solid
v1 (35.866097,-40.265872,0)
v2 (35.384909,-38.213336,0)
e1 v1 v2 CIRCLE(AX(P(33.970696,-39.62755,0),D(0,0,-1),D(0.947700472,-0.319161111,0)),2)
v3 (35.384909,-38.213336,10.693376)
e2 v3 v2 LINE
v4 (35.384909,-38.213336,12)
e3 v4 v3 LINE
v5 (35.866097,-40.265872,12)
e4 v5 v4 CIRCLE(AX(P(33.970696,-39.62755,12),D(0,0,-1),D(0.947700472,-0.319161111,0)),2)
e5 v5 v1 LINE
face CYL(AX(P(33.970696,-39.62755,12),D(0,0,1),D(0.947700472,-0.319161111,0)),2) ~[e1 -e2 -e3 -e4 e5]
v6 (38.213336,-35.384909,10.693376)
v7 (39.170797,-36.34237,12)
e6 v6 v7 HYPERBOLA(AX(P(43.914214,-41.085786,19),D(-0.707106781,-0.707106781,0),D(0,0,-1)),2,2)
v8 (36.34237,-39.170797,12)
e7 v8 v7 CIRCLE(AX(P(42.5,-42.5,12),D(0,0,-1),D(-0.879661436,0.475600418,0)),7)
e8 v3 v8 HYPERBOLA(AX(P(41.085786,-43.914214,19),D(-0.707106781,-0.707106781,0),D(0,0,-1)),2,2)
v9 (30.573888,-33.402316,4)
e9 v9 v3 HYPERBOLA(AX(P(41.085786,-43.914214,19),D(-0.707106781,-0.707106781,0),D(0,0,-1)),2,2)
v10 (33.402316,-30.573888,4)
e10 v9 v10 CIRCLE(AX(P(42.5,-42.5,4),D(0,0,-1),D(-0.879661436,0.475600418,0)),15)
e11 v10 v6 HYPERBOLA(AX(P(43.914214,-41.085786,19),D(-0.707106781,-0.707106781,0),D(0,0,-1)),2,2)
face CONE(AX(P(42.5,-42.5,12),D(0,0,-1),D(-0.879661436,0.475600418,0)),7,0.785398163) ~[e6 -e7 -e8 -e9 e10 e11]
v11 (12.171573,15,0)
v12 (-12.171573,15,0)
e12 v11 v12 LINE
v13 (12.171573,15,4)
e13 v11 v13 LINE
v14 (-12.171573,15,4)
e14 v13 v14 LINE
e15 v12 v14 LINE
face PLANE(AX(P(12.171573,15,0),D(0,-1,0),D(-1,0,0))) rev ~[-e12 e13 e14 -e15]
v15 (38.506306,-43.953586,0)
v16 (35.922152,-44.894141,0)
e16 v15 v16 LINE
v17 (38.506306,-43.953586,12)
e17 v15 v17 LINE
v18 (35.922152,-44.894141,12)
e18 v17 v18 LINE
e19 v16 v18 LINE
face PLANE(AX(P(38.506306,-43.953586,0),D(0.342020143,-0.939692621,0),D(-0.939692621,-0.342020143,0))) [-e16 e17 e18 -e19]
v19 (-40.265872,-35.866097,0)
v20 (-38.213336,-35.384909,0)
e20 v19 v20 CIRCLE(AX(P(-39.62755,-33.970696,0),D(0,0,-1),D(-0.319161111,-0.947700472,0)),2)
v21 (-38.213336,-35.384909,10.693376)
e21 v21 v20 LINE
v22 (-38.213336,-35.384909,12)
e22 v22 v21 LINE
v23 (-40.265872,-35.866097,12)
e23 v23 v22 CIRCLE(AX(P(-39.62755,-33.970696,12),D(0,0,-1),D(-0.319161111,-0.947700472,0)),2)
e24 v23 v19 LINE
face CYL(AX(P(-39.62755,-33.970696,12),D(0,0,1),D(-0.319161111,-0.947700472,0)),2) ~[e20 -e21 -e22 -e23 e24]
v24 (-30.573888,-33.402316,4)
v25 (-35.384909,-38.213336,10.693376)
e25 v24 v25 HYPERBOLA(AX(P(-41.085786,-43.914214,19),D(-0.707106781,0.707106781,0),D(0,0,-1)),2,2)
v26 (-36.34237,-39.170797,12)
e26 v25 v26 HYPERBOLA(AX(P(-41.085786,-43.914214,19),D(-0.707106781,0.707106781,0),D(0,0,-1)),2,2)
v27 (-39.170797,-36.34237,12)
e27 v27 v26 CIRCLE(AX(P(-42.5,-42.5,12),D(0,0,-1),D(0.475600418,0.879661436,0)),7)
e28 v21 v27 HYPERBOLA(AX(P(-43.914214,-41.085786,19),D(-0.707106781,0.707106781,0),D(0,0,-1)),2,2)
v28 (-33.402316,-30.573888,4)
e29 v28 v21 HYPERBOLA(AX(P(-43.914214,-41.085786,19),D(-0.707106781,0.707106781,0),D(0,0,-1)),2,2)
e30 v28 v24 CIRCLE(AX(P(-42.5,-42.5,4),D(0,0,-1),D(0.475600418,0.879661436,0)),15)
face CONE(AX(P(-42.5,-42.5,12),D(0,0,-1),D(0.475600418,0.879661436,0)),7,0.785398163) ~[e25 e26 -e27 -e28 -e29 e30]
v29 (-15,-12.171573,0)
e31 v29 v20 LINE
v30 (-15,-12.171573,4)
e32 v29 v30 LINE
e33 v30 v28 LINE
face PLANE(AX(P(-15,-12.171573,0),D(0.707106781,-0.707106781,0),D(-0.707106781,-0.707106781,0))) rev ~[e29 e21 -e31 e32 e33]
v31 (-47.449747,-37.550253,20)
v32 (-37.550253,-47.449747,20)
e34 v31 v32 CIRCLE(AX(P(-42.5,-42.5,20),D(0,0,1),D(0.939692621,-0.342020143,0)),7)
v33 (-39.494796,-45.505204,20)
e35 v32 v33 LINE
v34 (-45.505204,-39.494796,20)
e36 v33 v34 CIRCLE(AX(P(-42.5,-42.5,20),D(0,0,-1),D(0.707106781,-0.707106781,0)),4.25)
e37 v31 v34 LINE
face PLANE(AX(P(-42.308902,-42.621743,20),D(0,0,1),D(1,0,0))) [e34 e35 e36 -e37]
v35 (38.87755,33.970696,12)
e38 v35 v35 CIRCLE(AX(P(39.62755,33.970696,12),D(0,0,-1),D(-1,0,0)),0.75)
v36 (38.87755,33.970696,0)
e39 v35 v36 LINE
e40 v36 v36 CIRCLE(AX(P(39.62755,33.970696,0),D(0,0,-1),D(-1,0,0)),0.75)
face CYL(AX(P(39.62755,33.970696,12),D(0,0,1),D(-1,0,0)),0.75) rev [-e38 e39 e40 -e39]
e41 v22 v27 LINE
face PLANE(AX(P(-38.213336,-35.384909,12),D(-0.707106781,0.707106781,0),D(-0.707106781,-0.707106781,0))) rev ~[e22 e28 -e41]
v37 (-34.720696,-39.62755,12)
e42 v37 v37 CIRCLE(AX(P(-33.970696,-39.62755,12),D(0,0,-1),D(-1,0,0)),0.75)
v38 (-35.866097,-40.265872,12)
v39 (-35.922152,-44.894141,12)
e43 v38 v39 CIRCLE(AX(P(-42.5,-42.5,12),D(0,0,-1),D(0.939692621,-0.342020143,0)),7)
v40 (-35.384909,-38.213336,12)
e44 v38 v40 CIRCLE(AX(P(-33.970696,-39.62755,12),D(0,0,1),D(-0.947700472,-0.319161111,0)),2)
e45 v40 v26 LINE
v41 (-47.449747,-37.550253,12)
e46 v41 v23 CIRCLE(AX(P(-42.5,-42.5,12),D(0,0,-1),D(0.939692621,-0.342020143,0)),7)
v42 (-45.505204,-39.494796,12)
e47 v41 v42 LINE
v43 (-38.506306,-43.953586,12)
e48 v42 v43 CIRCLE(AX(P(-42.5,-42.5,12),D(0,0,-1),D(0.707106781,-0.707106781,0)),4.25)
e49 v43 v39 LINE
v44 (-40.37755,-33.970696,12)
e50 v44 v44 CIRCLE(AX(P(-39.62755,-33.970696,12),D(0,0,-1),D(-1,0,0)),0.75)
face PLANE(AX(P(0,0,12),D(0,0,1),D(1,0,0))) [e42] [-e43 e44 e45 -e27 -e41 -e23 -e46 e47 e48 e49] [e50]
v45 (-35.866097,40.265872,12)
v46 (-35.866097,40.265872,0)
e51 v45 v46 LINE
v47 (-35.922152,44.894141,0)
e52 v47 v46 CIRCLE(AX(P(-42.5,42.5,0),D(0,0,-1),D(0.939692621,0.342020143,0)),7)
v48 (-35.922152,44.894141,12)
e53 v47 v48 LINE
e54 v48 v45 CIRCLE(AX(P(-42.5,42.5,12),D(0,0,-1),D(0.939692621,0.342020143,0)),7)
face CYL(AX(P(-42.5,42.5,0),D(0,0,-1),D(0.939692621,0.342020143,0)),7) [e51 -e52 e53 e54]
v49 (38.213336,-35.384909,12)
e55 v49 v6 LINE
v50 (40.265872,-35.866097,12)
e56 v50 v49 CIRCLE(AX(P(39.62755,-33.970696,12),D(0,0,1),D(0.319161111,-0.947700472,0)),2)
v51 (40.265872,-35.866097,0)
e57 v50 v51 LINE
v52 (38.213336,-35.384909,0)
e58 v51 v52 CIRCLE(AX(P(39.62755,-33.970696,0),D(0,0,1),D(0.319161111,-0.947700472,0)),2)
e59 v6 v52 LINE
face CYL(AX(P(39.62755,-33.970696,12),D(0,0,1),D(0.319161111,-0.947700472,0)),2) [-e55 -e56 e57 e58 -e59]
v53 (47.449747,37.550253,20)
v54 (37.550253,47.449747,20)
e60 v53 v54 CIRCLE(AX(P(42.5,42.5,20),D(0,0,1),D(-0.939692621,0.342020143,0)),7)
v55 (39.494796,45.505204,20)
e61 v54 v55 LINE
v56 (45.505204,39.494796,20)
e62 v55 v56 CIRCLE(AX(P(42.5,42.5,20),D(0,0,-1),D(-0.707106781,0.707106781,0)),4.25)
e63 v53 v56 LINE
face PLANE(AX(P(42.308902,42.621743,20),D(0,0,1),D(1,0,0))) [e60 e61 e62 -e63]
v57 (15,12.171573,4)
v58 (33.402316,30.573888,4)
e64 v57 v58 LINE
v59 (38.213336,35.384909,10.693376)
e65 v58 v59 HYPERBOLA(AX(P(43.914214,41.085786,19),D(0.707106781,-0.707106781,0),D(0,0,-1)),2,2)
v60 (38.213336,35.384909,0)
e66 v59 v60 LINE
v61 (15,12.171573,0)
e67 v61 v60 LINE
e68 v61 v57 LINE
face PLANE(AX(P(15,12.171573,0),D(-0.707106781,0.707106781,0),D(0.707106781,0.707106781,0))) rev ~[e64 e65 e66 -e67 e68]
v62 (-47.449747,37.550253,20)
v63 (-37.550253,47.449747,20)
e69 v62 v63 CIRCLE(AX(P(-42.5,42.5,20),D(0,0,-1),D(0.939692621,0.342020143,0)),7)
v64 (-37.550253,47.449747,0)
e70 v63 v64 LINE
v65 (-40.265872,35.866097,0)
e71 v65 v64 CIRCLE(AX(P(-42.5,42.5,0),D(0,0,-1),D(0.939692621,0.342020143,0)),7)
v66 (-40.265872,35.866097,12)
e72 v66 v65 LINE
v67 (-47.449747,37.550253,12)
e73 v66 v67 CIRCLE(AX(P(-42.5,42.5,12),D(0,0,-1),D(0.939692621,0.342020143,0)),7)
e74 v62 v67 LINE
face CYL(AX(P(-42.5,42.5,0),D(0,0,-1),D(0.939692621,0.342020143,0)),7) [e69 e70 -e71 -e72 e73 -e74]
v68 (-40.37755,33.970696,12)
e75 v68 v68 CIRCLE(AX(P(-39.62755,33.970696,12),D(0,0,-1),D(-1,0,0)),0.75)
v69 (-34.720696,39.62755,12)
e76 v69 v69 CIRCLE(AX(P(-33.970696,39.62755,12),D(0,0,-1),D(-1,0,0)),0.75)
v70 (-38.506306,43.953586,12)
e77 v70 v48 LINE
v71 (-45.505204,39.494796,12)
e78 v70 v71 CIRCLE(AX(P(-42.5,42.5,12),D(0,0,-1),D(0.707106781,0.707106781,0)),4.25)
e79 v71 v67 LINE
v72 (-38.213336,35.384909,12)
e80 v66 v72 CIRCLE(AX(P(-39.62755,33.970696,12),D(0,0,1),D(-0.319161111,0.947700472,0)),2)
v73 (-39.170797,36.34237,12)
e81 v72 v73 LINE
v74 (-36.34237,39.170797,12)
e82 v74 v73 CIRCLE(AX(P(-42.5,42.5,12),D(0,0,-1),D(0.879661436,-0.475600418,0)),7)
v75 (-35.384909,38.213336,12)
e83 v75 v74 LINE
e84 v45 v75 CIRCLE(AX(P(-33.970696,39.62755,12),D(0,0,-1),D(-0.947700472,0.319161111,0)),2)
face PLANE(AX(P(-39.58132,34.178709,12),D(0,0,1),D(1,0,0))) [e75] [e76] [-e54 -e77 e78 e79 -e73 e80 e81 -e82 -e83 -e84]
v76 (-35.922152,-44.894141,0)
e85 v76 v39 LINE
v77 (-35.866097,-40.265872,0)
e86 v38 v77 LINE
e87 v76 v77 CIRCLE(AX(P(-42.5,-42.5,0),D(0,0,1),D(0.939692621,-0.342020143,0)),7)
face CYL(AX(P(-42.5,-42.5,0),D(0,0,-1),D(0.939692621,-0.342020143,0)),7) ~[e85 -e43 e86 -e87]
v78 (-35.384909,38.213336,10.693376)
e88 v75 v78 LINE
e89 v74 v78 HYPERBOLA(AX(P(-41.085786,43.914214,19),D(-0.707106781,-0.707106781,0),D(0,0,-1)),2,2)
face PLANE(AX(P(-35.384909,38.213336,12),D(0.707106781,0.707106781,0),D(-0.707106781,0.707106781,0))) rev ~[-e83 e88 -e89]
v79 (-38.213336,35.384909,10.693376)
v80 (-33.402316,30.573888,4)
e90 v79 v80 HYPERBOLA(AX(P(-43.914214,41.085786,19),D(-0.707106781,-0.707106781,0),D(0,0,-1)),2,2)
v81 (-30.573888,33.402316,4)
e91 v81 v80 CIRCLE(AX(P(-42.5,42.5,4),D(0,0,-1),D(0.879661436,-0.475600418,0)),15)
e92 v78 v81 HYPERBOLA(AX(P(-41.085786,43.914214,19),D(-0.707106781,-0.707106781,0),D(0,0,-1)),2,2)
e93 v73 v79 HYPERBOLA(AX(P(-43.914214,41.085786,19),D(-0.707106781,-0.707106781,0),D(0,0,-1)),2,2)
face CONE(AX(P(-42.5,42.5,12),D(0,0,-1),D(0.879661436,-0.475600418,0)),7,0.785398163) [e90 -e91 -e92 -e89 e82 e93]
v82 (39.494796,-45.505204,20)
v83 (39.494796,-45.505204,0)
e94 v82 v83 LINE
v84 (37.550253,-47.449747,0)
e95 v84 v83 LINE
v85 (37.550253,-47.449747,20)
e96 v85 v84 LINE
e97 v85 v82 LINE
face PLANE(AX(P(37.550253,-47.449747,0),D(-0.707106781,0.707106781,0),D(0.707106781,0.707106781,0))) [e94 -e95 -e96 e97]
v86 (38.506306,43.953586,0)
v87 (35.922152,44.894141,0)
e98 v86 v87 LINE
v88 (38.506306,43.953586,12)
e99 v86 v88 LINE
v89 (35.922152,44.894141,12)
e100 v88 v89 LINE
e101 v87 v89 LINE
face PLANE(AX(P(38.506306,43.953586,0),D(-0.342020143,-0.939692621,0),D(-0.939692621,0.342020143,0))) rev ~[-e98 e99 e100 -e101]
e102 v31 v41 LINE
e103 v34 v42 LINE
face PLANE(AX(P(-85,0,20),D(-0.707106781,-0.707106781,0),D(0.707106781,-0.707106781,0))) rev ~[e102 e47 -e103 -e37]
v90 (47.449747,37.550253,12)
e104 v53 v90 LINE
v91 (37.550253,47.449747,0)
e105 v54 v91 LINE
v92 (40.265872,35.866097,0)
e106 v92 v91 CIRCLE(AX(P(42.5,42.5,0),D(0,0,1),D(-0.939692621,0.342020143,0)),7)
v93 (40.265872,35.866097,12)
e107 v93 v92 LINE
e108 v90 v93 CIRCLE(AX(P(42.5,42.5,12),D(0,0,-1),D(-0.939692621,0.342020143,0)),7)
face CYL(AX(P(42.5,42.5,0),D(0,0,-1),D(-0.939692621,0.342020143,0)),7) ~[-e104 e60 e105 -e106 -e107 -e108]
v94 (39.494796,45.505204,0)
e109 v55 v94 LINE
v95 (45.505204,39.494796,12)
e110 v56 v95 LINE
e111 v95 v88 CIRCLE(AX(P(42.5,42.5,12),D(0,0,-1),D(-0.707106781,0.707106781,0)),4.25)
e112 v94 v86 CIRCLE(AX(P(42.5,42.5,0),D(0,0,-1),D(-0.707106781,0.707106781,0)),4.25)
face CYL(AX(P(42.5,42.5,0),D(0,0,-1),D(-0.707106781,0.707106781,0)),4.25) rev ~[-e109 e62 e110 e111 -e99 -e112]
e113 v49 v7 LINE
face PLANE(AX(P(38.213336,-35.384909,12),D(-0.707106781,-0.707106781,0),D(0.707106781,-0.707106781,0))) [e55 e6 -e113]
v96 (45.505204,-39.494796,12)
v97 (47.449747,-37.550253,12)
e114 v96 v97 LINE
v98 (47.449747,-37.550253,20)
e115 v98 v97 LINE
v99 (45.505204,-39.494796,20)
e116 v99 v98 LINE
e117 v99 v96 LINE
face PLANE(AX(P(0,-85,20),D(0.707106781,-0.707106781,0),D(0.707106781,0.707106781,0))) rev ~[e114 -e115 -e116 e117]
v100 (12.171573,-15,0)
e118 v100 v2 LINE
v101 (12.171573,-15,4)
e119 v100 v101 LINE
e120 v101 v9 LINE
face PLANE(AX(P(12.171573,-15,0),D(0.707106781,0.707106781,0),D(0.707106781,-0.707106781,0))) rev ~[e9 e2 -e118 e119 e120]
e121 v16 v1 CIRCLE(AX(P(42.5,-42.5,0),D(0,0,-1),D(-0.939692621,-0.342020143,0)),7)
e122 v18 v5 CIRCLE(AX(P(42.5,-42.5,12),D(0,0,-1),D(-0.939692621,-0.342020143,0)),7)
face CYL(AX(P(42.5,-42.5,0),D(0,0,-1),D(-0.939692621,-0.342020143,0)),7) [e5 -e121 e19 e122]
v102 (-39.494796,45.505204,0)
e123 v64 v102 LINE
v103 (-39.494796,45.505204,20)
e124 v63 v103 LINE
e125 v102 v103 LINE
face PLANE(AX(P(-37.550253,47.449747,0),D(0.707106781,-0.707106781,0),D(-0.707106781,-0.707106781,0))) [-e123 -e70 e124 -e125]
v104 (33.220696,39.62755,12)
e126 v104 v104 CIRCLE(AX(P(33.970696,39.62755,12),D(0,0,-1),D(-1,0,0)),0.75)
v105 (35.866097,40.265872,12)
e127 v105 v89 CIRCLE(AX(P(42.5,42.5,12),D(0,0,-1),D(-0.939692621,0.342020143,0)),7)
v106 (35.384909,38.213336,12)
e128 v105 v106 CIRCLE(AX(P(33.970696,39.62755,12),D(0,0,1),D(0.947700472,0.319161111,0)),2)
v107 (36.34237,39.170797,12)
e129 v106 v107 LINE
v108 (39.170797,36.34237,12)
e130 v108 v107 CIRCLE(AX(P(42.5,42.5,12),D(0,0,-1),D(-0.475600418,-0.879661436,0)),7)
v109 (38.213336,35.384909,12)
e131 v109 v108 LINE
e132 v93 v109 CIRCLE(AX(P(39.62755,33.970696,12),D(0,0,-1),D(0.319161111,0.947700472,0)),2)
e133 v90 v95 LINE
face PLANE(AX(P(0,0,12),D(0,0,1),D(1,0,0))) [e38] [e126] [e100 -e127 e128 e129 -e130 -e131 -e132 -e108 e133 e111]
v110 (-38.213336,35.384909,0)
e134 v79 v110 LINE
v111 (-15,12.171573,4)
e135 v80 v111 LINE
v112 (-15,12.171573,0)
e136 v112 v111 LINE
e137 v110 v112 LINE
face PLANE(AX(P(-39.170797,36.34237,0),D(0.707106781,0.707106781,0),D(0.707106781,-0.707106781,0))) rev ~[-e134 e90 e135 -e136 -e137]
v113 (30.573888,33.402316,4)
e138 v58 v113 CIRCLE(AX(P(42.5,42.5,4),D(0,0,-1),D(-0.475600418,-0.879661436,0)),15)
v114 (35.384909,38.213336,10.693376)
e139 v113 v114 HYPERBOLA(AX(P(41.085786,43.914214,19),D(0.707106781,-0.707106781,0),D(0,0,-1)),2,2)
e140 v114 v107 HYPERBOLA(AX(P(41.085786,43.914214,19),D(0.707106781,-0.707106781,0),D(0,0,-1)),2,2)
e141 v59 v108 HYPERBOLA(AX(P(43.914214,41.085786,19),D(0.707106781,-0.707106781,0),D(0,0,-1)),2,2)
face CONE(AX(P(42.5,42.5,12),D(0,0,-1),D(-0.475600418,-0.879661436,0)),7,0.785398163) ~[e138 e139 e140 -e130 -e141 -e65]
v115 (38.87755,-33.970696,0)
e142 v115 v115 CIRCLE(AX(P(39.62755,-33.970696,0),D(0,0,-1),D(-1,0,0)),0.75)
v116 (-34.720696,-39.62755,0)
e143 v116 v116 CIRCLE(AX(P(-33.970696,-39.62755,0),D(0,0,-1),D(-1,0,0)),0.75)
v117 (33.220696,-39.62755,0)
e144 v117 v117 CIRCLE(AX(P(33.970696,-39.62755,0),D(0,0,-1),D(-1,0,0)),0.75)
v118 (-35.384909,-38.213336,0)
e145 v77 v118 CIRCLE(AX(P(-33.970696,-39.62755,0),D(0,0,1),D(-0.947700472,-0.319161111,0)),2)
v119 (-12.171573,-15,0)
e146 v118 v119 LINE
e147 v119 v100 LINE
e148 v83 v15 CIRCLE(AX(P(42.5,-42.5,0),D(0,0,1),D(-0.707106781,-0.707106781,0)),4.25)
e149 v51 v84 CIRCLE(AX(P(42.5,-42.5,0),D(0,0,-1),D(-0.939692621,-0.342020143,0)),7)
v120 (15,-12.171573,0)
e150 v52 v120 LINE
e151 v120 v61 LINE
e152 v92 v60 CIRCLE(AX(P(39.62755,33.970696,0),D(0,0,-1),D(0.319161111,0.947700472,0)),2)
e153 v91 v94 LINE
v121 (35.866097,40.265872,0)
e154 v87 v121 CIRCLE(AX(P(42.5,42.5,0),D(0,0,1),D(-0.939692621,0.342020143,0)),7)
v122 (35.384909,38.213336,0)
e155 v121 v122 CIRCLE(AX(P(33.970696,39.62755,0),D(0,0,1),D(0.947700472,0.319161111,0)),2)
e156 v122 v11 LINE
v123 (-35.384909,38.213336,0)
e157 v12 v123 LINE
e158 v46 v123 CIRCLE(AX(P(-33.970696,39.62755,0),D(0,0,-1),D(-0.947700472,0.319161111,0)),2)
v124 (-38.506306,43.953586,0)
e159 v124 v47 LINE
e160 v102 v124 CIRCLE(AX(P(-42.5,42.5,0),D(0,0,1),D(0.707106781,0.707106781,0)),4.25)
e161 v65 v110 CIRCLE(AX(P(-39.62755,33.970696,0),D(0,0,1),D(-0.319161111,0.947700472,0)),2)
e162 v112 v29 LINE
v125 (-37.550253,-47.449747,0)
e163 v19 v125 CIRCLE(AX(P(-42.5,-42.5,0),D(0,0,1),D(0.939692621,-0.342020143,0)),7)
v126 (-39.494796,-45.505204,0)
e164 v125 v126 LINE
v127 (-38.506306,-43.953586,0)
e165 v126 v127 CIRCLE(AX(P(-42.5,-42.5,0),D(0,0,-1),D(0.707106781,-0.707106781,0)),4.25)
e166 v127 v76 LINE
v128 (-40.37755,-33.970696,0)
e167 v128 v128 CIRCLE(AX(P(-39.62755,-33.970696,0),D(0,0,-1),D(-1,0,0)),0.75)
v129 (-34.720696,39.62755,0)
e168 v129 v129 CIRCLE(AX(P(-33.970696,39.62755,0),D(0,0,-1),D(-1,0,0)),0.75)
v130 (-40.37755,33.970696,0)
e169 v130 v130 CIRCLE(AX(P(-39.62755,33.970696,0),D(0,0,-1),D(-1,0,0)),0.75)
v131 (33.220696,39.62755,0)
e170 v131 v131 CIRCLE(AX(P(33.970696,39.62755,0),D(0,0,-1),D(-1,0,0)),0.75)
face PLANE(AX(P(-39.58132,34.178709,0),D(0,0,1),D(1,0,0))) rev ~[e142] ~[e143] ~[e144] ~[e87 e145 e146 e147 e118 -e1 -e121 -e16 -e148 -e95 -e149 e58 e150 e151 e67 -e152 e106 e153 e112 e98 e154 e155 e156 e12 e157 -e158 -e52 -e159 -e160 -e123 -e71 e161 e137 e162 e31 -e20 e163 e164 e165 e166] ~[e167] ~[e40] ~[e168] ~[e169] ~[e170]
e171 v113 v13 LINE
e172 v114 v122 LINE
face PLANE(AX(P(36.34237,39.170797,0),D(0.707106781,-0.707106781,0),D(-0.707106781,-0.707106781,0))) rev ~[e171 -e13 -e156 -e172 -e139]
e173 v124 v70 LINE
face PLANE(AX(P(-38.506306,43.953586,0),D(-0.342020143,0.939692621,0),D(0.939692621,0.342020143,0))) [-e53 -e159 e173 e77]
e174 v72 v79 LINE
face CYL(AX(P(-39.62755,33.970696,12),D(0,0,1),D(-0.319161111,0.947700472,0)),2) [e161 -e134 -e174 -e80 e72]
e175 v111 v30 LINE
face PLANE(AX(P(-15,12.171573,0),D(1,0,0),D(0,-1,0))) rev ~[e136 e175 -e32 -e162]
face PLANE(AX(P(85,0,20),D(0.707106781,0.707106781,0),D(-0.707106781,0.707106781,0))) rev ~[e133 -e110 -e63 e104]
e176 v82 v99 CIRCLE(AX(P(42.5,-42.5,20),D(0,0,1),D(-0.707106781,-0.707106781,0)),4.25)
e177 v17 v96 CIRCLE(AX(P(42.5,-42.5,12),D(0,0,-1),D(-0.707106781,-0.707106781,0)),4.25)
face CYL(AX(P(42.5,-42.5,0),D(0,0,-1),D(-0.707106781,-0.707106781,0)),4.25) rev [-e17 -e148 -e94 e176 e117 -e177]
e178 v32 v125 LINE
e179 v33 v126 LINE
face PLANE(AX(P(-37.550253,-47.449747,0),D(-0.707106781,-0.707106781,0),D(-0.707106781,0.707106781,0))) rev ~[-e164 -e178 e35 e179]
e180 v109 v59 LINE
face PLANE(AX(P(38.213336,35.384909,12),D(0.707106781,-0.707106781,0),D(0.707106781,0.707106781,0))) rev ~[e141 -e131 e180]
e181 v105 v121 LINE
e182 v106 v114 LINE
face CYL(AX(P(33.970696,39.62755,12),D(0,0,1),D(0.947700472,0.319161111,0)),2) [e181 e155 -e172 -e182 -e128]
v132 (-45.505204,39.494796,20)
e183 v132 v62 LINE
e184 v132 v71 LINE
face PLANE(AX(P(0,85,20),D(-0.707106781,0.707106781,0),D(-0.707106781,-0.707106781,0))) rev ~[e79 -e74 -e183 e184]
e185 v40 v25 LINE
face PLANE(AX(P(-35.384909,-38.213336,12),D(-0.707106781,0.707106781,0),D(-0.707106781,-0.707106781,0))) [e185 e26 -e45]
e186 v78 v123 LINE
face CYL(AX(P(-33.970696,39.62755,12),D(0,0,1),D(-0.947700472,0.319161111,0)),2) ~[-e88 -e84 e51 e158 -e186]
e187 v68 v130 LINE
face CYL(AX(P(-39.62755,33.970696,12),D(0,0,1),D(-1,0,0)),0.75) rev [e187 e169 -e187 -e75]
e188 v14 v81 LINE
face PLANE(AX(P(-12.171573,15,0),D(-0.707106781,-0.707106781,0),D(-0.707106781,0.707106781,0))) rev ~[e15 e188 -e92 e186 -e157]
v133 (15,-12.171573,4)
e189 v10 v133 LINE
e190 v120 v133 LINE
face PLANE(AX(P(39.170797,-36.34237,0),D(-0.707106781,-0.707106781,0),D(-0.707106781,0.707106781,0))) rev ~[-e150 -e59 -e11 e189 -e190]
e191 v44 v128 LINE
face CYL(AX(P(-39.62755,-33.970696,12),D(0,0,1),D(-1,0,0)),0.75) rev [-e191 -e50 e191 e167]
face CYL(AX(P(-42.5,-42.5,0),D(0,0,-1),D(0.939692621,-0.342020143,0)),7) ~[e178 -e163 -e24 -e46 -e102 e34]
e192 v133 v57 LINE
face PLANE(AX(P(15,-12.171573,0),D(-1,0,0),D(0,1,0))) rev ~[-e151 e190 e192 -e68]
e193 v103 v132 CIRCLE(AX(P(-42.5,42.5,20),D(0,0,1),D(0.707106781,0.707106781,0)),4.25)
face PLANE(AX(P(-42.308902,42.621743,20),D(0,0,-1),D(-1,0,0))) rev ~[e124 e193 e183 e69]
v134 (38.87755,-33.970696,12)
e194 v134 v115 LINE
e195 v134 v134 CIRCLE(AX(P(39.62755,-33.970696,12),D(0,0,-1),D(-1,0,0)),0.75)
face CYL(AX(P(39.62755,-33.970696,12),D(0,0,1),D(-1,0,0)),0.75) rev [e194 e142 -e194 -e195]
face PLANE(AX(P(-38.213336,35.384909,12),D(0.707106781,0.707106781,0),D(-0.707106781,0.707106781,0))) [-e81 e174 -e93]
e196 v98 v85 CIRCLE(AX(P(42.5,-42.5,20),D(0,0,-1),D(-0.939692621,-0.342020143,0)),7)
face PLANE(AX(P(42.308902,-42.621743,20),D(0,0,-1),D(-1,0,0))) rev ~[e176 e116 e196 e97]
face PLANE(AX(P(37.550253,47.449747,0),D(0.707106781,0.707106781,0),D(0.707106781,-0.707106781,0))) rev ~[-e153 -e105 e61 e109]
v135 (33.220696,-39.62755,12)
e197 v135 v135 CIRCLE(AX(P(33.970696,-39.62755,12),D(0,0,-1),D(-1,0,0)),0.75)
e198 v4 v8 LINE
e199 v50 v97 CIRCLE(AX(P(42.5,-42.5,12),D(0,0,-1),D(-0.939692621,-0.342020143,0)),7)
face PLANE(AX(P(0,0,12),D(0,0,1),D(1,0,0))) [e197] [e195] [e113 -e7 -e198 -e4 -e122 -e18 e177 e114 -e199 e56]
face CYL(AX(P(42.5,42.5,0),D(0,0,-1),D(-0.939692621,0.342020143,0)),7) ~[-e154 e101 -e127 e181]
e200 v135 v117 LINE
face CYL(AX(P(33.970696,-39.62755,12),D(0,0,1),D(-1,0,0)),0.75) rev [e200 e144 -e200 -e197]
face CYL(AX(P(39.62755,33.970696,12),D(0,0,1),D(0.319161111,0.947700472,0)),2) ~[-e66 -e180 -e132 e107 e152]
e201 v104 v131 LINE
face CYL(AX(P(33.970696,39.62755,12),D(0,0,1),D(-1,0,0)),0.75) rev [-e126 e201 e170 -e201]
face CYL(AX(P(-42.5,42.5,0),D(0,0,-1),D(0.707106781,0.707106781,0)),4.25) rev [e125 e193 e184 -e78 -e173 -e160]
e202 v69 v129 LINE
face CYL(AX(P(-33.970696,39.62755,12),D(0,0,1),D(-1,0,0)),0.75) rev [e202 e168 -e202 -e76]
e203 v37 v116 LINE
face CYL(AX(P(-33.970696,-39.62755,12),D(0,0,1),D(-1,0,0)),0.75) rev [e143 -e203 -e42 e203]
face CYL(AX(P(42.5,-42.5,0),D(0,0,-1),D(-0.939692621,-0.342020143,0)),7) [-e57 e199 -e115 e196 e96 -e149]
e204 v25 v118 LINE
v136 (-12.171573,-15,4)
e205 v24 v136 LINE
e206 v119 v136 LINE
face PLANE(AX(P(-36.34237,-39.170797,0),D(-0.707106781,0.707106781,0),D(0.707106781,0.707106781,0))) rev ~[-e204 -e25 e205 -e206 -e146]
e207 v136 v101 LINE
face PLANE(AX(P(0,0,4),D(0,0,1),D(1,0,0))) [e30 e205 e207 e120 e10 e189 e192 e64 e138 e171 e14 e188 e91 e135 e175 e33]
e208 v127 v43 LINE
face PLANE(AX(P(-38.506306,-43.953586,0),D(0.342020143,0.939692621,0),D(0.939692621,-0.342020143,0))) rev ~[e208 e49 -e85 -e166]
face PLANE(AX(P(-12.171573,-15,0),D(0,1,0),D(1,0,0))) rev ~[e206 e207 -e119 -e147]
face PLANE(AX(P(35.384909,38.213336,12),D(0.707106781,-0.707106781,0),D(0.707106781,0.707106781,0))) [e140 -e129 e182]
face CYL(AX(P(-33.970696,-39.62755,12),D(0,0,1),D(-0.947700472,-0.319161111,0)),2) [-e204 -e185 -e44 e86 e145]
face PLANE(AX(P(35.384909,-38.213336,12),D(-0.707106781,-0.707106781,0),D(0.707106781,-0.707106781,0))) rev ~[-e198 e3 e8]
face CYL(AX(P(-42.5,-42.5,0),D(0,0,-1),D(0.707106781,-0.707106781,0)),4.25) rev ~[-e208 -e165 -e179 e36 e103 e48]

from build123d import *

# Parameters (mm, degrees)
RESSALTO_EXTRUS_O1_DEPTH = 4
RESSALTO_EXTRUS_O2_DEPTH = 20
CHANFRO1_SIZE            = 8
CORTE_EXTRUS_O1_DEPTH    = 8
RESSALTO_EXTRUS_O3_START = -12
ESBO_O3_R                = 0.7499999999999987
ESBO_O3_R_2              = 0.7499999999999968
ESBO_O3_R_3              = 0.7500000000000008
ESBO_O3_R_4              = 0.7500000000000033
ESBO_O3_R_5              = 0.7499999999999941
RESSALTO_EXTRUS_O3_DEPTH = 12


with BuildPart() as part:
    # Esboço1 → Ressalto-extrusão1 (new body)
    with BuildSketch(Plane.XY):
        with BuildLine():
            ThreePointArc((39.17079707212046, 36.342369947374344), (37.5502525316941, 37.55025253169418), (36.342369947374266, 39.17079707212054))
            Line((36.342369947374266, 39.17079707212054), (12.171572875253798, 15))
            Line((12.171572875253798, 15), (-12.171572875253808, 15))
            Line((-12.171572875253808, 15), (-36.342369947374394, 39.17079707212054))
            ThreePointArc((-36.342369947374394, 39.17079707212054), (-37.55025253169423, 37.550252531694184), (-39.170797072120585, 36.34236994737435))
            Line((-39.1707970721206, 36.34236994737438), (-15.000000000000007, 12.171572875253808))
            Line((-15.000000000000007, 12.171572875253808), (-15.000000000000034, -12.171572875253805))
            Line((-15.000000000000034, -12.171572875253805), (-39.1707970721206, -36.34236994737438))
            ThreePointArc((-39.170797072120585, -36.34236994737435), (-37.55025253169423, -37.550252531694184), (-36.342369947374394, -39.17079707212054))
            Line((-36.342369947374394, -39.17079707212054), (-12.171572875253837, -14.999999999999996))
            Line((-12.171572875253837, -14.999999999999996), (12.171572875253744, -14.999999999999996))
            Line((12.171572875253743, -14.999999999999996), (36.342369947374266, -39.17079707212054))
            ThreePointArc((36.342369947374266, -39.17079707212054), (37.5502525316941, -37.55025253169418), (39.17079707212046, -36.342369947374344))
            Line((39.17079707212048, -36.34236994737438), (14.99999999999994, -12.171572875253805))
            Line((14.99999999999994, -12.171572875253805), (14.999999999999996, 12.171572875253808))
            Line((14.999999999999996, 12.171572875253808), (39.17079707212048, 36.34236994737438))
        make_face()
    extrude(amount=RESSALTO_EXTRUS_O1_DEPTH)

    # Esboço1<4> → Ressalto-extrusão2 (add)
    with BuildSketch(Plane.XY):
        with BuildLine():
            Line((-38.506306361659945, 43.95358560913411), (-35.92215165449871, 44.8941410032797))
            ThreePointArc((-35.92215165449871, 44.8941410032797), (-35.51879172736745, 41.98742702556037), (-36.342369947374394, 39.17079707212054))
            ThreePointArc((-36.342369947374394, 39.17079707212054), (-49.42666685814673, 41.489412924952944), (-37.5502525316942, 47.449747468305816))
            Line((-37.5502525316942, 47.449747468305816), (-39.49479617995721, 45.50520382004282))
            ThreePointArc((-39.49479617995721, 45.50520382004282), (-46.08441364470481, 40.216476664526006), (-38.506306361659945, 43.95358560913411))
        make_face()
        with BuildLine():
            ThreePointArc((36.342369947374266, 39.17079707212054), (49.426666858146646, 41.48941292495294), (37.550252531694085, 47.449747468305816))
            Line((37.550252531694085, 47.449747468305816), (39.494796179957106, 45.50520382004282))
            ThreePointArc((39.494796179957106, 45.50520382004282), (46.08441364470471, 40.216476664526006), (38.50630636165983, 43.95358560913411))
            Line((38.50630636165983, 43.95358560913411), (35.922151654498585, 44.8941410032797))
            ThreePointArc((35.922151654498585, 44.8941410032797), (35.51879172736732, 41.98742702556037), (36.342369947374266, 39.17079707212054))
        make_face()
        with BuildLine():
            ThreePointArc((35.922151654498585, -44.8941410032797), (35.51879172736732, -41.98742702556037), (36.342369947374266, -39.17079707212054))
            ThreePointArc((36.342369947374266, -39.17079707212054), (49.426666858146646, -41.48941292495294), (37.550252531694085, -47.449747468305816))
            Line((37.550252531694085, -47.449747468305816), (39.494796179957106, -45.50520382004282))
            ThreePointArc((39.494796179957106, -45.50520382004282), (46.08441364470471, -40.216476664526006), (38.50630636165983, -43.95358560913411))
            Line((38.50630636165983, -43.95358560913411), (35.922151654498585, -44.8941410032797))
        make_face()
        with BuildLine():
            ThreePointArc((-35.92215165449871, -44.8941410032797), (-35.51879172736745, -41.98742702556037), (-36.342369947374394, -39.17079707212054))
            ThreePointArc((-36.342369947374394, -39.17079707212054), (-49.42666685814673, -41.489412924952944), (-37.5502525316942, -47.449747468305816))
            Line((-37.5502525316942, -47.449747468305816), (-39.49479617995721, -45.50520382004282))
            ThreePointArc((-39.49479617995721, -45.50520382004282), (-46.08441364470481, -40.216476664526006), (-38.506306361659945, -43.95358560913411))
            Line((-38.506306361659945, -43.95358560913411), (-35.92215165449871, -44.8941410032797))
        make_face()
    extrude(amount=RESSALTO_EXTRUS_O2_DEPTH)

    # Chanfro1
    chanfro1_edges = [part.edges().sort_by_distance(p)[0] for p in [
        (37.5502525316941, 37.55025253169418, 4),
        (-37.55025253169423, 37.550252531694184, 4),
        (-37.55025253169423, -37.550252531694184, 4),
        (37.5502525316941, -37.55025253169418, 4),
    ]]
    chamfer(chanfro1_edges, length=CHANFRO1_SIZE)

    # Esboço2 → Corte-extrusão1 (cut)
    with BuildSketch(Plane.XY.offset(20)):
        Polygon((85.00000000000006, 0), (-2.776e-14, 85.00000000000007), (-85.00000000000007, -4.163e-14), (6.939e-14, -85.00000000000006), align=None)
    extrude(amount=-CORTE_EXTRUS_O1_DEPTH, mode=Mode.SUBTRACT)

    # Esboço3 → Ressalto-extrusão3 (add)
    # profile 1 of 8: a face of its own
    with BuildSketch(Plane(origin=(0, 0, 0), x_dir=(-1, 0, 0), z_dir=(0, 0, -1)).offset(RESSALTO_EXTRUS_O3_START)):
        with BuildLine():
            Line((38.21333643687745, 35.38490931213122), (39.17079707212057, 36.34236994737435))
            ThreePointArc((39.17079707212057, 36.34236994737435), (39.708159891817324, 36.0808389325129), (40.26587222163931, 35.866096694256335))
            ThreePointArc((40.26587222163931, 35.866096694256335), (40.08404443190525, 32.02348933210357), (38.21333643687745, 35.38490931213122))
        make_face()
        with Locations((39.627549999250526, 33.97069574975814)):
            Circle(ESBO_O3_R, mode=Mode.SUBTRACT)
    # profile 2 of 8: a face of its own
    with BuildSketch(Plane(origin=(0, 0, 0), x_dir=(-1, 0, 0), z_dir=(0, 0, -1)).offset(RESSALTO_EXTRUS_O3_START)):
        with BuildLine():
            Line((35.38490931213124, 38.21333643687742), (36.342369947374365, 39.17079707212055))
            ThreePointArc((36.342369947374365, 39.17079707212055), (36.08083893251292, 39.7081598918173), (35.86609669425635, 40.265872221639285))
            ThreePointArc((35.86609669425635, 40.265872221639285), (32.02348933210358, 40.08404443190522), (35.38490931213124, 38.21333643687742))
        make_face()
        with Locations((33.97069574975816, 39.6275499992505)):
            Circle(ESBO_O3_R, mode=Mode.SUBTRACT)
    # profile 3 of 8: a face of its own
    with BuildSketch(Plane(origin=(0, 0, 0), x_dir=(-1, 0, 0), z_dir=(0, 0, -1)).offset(RESSALTO_EXTRUS_O3_START)):
        with BuildLine():
            Line((35.38490931213109, -38.21333643687757), (36.342369947374216, -39.1707970721207))
            ThreePointArc((36.342369947374216, -39.1707970721207), (36.08083893251276, -39.70815989181745), (35.86609669425619, -40.265872221639434))
            ThreePointArc((35.86609669425619, -40.265872221639434), (32.023489332103416, -40.08404443190537), (35.38490931213109, -38.21333643687757))
        make_face()
        with Locations((33.970695749758, -39.62754999925065)):
            Circle(ESBO_O3_R, mode=Mode.SUBTRACT)
    # profile 4 of 8: a face of its own
    with BuildSketch(Plane(origin=(0, 0, 0), x_dir=(-1, 0, 0), z_dir=(0, 0, -1)).offset(RESSALTO_EXTRUS_O3_START)):
        with BuildLine():
            Line((38.21333643687729, -35.38490931213138), (39.17079707212043, -36.34236994737451))
            ThreePointArc((39.17079707212043, -36.34236994737451), (39.70815989181718, -36.08083893251306), (40.26587222163916, -35.866096694256484))
            ThreePointArc((40.26587222163916, -35.866096694256484), (40.08404443190512, -32.02348933210371), (38.21333643687729, -35.38490931213138))
        make_face()
        with Locations((39.627549999250384, -33.97069574975829)):
            Circle(ESBO_O3_R, mode=Mode.SUBTRACT)
    # profile 5 of 8: a face of its own
    with BuildSketch(Plane(origin=(0, 0, 0), x_dir=(-1, 0, 0), z_dir=(0, 0, -1)).offset(RESSALTO_EXTRUS_O3_START)):
        with BuildLine():
            Line((-38.2133364368777, -35.38490931213096), (-39.17079707212083, -36.34236994737408))
            ThreePointArc((-39.17079707212083, -36.34236994737408), (-39.70815989181758, -36.08083893251263), (-40.26587222163956, -35.86609669425605))
            ThreePointArc((-40.26587222163956, -35.86609669425605), (-40.08404443190547, -32.02348933210329), (-38.2133364368777, -35.38490931213096))
        make_face()
        with Locations((-39.62754999925076, -33.970695749757866)):
            Circle(ESBO_O3_R_2, mode=Mode.SUBTRACT)
    # profile 6 of 8: a face of its own
    with BuildSketch(Plane(origin=(0, 0, 0), x_dir=(-1, 0, 0), z_dir=(0, 0, -1)).offset(RESSALTO_EXTRUS_O3_START)):
        with BuildLine():
            Line((-35.384909312131505, -38.213336436877164), (-36.342369947374635, -39.170797072120294))
            ThreePointArc((-36.342369947374635, -39.170797072120294), (-36.08083893251319, -39.70815989181705), (-35.86609669425663, -40.265872221639036))
            ThreePointArc((-35.86609669425663, -40.265872221639036), (-32.02348933210386, -40.084044431905006), (-35.384909312131505, -38.213336436877164))
        make_face()
        with Locations((-33.970695749758434, -39.62754999925026)):
            Circle(ESBO_O3_R_3, mode=Mode.SUBTRACT)
    # profile 7 of 8: a face of its own
    with BuildSketch(Plane(origin=(0, 0, 0), x_dir=(-1, 0, 0), z_dir=(0, 0, -1)).offset(RESSALTO_EXTRUS_O3_START)):
        with BuildLine():
            Line((-35.38490931213082, 38.213336436877796), (-36.34236994737394, 39.17079707212094))
            ThreePointArc((-36.34236994737394, 39.17079707212094), (-36.080838932512485, 39.708159891817694), (-35.86609669425591, 40.265872221639675))
            ThreePointArc((-35.86609669425591, 40.265872221639675), (-32.02348933210314, 40.084044431905575), (-35.38490931213082, 38.213336436877796))
        make_face()
        with Locations((-33.97069574975772, 39.62754999925087)):
            Circle(ESBO_O3_R_4, mode=Mode.SUBTRACT)
    # profile 8 of 8: a face of its own
    with BuildSketch(Plane(origin=(0, 0, 0), x_dir=(-1, 0, 0), z_dir=(0, 0, -1)).offset(RESSALTO_EXTRUS_O3_START)):
        with BuildLine():
            Line((-38.21333643687705, 35.38490931213163), (-39.17079707212017, 36.34236994737476))
            ThreePointArc((-39.17079707212017, 36.34236994737476), (-39.708159891816926, 36.08083893251332), (-40.26587222163891, 35.866096694256754))
            ThreePointArc((-40.26587222163891, 35.866096694256754), (-40.0840444319049, 32.02348933210398), (-38.21333643687705, 35.38490931213163))
        make_face()
        with Locations((-39.62754999925015, 33.970695749758555)):
            Circle(ESBO_O3_R_5, mode=Mode.SUBTRACT)
    extrude(amount=RESSALTO_EXTRUS_O3_DEPTH)


solid = part.part
